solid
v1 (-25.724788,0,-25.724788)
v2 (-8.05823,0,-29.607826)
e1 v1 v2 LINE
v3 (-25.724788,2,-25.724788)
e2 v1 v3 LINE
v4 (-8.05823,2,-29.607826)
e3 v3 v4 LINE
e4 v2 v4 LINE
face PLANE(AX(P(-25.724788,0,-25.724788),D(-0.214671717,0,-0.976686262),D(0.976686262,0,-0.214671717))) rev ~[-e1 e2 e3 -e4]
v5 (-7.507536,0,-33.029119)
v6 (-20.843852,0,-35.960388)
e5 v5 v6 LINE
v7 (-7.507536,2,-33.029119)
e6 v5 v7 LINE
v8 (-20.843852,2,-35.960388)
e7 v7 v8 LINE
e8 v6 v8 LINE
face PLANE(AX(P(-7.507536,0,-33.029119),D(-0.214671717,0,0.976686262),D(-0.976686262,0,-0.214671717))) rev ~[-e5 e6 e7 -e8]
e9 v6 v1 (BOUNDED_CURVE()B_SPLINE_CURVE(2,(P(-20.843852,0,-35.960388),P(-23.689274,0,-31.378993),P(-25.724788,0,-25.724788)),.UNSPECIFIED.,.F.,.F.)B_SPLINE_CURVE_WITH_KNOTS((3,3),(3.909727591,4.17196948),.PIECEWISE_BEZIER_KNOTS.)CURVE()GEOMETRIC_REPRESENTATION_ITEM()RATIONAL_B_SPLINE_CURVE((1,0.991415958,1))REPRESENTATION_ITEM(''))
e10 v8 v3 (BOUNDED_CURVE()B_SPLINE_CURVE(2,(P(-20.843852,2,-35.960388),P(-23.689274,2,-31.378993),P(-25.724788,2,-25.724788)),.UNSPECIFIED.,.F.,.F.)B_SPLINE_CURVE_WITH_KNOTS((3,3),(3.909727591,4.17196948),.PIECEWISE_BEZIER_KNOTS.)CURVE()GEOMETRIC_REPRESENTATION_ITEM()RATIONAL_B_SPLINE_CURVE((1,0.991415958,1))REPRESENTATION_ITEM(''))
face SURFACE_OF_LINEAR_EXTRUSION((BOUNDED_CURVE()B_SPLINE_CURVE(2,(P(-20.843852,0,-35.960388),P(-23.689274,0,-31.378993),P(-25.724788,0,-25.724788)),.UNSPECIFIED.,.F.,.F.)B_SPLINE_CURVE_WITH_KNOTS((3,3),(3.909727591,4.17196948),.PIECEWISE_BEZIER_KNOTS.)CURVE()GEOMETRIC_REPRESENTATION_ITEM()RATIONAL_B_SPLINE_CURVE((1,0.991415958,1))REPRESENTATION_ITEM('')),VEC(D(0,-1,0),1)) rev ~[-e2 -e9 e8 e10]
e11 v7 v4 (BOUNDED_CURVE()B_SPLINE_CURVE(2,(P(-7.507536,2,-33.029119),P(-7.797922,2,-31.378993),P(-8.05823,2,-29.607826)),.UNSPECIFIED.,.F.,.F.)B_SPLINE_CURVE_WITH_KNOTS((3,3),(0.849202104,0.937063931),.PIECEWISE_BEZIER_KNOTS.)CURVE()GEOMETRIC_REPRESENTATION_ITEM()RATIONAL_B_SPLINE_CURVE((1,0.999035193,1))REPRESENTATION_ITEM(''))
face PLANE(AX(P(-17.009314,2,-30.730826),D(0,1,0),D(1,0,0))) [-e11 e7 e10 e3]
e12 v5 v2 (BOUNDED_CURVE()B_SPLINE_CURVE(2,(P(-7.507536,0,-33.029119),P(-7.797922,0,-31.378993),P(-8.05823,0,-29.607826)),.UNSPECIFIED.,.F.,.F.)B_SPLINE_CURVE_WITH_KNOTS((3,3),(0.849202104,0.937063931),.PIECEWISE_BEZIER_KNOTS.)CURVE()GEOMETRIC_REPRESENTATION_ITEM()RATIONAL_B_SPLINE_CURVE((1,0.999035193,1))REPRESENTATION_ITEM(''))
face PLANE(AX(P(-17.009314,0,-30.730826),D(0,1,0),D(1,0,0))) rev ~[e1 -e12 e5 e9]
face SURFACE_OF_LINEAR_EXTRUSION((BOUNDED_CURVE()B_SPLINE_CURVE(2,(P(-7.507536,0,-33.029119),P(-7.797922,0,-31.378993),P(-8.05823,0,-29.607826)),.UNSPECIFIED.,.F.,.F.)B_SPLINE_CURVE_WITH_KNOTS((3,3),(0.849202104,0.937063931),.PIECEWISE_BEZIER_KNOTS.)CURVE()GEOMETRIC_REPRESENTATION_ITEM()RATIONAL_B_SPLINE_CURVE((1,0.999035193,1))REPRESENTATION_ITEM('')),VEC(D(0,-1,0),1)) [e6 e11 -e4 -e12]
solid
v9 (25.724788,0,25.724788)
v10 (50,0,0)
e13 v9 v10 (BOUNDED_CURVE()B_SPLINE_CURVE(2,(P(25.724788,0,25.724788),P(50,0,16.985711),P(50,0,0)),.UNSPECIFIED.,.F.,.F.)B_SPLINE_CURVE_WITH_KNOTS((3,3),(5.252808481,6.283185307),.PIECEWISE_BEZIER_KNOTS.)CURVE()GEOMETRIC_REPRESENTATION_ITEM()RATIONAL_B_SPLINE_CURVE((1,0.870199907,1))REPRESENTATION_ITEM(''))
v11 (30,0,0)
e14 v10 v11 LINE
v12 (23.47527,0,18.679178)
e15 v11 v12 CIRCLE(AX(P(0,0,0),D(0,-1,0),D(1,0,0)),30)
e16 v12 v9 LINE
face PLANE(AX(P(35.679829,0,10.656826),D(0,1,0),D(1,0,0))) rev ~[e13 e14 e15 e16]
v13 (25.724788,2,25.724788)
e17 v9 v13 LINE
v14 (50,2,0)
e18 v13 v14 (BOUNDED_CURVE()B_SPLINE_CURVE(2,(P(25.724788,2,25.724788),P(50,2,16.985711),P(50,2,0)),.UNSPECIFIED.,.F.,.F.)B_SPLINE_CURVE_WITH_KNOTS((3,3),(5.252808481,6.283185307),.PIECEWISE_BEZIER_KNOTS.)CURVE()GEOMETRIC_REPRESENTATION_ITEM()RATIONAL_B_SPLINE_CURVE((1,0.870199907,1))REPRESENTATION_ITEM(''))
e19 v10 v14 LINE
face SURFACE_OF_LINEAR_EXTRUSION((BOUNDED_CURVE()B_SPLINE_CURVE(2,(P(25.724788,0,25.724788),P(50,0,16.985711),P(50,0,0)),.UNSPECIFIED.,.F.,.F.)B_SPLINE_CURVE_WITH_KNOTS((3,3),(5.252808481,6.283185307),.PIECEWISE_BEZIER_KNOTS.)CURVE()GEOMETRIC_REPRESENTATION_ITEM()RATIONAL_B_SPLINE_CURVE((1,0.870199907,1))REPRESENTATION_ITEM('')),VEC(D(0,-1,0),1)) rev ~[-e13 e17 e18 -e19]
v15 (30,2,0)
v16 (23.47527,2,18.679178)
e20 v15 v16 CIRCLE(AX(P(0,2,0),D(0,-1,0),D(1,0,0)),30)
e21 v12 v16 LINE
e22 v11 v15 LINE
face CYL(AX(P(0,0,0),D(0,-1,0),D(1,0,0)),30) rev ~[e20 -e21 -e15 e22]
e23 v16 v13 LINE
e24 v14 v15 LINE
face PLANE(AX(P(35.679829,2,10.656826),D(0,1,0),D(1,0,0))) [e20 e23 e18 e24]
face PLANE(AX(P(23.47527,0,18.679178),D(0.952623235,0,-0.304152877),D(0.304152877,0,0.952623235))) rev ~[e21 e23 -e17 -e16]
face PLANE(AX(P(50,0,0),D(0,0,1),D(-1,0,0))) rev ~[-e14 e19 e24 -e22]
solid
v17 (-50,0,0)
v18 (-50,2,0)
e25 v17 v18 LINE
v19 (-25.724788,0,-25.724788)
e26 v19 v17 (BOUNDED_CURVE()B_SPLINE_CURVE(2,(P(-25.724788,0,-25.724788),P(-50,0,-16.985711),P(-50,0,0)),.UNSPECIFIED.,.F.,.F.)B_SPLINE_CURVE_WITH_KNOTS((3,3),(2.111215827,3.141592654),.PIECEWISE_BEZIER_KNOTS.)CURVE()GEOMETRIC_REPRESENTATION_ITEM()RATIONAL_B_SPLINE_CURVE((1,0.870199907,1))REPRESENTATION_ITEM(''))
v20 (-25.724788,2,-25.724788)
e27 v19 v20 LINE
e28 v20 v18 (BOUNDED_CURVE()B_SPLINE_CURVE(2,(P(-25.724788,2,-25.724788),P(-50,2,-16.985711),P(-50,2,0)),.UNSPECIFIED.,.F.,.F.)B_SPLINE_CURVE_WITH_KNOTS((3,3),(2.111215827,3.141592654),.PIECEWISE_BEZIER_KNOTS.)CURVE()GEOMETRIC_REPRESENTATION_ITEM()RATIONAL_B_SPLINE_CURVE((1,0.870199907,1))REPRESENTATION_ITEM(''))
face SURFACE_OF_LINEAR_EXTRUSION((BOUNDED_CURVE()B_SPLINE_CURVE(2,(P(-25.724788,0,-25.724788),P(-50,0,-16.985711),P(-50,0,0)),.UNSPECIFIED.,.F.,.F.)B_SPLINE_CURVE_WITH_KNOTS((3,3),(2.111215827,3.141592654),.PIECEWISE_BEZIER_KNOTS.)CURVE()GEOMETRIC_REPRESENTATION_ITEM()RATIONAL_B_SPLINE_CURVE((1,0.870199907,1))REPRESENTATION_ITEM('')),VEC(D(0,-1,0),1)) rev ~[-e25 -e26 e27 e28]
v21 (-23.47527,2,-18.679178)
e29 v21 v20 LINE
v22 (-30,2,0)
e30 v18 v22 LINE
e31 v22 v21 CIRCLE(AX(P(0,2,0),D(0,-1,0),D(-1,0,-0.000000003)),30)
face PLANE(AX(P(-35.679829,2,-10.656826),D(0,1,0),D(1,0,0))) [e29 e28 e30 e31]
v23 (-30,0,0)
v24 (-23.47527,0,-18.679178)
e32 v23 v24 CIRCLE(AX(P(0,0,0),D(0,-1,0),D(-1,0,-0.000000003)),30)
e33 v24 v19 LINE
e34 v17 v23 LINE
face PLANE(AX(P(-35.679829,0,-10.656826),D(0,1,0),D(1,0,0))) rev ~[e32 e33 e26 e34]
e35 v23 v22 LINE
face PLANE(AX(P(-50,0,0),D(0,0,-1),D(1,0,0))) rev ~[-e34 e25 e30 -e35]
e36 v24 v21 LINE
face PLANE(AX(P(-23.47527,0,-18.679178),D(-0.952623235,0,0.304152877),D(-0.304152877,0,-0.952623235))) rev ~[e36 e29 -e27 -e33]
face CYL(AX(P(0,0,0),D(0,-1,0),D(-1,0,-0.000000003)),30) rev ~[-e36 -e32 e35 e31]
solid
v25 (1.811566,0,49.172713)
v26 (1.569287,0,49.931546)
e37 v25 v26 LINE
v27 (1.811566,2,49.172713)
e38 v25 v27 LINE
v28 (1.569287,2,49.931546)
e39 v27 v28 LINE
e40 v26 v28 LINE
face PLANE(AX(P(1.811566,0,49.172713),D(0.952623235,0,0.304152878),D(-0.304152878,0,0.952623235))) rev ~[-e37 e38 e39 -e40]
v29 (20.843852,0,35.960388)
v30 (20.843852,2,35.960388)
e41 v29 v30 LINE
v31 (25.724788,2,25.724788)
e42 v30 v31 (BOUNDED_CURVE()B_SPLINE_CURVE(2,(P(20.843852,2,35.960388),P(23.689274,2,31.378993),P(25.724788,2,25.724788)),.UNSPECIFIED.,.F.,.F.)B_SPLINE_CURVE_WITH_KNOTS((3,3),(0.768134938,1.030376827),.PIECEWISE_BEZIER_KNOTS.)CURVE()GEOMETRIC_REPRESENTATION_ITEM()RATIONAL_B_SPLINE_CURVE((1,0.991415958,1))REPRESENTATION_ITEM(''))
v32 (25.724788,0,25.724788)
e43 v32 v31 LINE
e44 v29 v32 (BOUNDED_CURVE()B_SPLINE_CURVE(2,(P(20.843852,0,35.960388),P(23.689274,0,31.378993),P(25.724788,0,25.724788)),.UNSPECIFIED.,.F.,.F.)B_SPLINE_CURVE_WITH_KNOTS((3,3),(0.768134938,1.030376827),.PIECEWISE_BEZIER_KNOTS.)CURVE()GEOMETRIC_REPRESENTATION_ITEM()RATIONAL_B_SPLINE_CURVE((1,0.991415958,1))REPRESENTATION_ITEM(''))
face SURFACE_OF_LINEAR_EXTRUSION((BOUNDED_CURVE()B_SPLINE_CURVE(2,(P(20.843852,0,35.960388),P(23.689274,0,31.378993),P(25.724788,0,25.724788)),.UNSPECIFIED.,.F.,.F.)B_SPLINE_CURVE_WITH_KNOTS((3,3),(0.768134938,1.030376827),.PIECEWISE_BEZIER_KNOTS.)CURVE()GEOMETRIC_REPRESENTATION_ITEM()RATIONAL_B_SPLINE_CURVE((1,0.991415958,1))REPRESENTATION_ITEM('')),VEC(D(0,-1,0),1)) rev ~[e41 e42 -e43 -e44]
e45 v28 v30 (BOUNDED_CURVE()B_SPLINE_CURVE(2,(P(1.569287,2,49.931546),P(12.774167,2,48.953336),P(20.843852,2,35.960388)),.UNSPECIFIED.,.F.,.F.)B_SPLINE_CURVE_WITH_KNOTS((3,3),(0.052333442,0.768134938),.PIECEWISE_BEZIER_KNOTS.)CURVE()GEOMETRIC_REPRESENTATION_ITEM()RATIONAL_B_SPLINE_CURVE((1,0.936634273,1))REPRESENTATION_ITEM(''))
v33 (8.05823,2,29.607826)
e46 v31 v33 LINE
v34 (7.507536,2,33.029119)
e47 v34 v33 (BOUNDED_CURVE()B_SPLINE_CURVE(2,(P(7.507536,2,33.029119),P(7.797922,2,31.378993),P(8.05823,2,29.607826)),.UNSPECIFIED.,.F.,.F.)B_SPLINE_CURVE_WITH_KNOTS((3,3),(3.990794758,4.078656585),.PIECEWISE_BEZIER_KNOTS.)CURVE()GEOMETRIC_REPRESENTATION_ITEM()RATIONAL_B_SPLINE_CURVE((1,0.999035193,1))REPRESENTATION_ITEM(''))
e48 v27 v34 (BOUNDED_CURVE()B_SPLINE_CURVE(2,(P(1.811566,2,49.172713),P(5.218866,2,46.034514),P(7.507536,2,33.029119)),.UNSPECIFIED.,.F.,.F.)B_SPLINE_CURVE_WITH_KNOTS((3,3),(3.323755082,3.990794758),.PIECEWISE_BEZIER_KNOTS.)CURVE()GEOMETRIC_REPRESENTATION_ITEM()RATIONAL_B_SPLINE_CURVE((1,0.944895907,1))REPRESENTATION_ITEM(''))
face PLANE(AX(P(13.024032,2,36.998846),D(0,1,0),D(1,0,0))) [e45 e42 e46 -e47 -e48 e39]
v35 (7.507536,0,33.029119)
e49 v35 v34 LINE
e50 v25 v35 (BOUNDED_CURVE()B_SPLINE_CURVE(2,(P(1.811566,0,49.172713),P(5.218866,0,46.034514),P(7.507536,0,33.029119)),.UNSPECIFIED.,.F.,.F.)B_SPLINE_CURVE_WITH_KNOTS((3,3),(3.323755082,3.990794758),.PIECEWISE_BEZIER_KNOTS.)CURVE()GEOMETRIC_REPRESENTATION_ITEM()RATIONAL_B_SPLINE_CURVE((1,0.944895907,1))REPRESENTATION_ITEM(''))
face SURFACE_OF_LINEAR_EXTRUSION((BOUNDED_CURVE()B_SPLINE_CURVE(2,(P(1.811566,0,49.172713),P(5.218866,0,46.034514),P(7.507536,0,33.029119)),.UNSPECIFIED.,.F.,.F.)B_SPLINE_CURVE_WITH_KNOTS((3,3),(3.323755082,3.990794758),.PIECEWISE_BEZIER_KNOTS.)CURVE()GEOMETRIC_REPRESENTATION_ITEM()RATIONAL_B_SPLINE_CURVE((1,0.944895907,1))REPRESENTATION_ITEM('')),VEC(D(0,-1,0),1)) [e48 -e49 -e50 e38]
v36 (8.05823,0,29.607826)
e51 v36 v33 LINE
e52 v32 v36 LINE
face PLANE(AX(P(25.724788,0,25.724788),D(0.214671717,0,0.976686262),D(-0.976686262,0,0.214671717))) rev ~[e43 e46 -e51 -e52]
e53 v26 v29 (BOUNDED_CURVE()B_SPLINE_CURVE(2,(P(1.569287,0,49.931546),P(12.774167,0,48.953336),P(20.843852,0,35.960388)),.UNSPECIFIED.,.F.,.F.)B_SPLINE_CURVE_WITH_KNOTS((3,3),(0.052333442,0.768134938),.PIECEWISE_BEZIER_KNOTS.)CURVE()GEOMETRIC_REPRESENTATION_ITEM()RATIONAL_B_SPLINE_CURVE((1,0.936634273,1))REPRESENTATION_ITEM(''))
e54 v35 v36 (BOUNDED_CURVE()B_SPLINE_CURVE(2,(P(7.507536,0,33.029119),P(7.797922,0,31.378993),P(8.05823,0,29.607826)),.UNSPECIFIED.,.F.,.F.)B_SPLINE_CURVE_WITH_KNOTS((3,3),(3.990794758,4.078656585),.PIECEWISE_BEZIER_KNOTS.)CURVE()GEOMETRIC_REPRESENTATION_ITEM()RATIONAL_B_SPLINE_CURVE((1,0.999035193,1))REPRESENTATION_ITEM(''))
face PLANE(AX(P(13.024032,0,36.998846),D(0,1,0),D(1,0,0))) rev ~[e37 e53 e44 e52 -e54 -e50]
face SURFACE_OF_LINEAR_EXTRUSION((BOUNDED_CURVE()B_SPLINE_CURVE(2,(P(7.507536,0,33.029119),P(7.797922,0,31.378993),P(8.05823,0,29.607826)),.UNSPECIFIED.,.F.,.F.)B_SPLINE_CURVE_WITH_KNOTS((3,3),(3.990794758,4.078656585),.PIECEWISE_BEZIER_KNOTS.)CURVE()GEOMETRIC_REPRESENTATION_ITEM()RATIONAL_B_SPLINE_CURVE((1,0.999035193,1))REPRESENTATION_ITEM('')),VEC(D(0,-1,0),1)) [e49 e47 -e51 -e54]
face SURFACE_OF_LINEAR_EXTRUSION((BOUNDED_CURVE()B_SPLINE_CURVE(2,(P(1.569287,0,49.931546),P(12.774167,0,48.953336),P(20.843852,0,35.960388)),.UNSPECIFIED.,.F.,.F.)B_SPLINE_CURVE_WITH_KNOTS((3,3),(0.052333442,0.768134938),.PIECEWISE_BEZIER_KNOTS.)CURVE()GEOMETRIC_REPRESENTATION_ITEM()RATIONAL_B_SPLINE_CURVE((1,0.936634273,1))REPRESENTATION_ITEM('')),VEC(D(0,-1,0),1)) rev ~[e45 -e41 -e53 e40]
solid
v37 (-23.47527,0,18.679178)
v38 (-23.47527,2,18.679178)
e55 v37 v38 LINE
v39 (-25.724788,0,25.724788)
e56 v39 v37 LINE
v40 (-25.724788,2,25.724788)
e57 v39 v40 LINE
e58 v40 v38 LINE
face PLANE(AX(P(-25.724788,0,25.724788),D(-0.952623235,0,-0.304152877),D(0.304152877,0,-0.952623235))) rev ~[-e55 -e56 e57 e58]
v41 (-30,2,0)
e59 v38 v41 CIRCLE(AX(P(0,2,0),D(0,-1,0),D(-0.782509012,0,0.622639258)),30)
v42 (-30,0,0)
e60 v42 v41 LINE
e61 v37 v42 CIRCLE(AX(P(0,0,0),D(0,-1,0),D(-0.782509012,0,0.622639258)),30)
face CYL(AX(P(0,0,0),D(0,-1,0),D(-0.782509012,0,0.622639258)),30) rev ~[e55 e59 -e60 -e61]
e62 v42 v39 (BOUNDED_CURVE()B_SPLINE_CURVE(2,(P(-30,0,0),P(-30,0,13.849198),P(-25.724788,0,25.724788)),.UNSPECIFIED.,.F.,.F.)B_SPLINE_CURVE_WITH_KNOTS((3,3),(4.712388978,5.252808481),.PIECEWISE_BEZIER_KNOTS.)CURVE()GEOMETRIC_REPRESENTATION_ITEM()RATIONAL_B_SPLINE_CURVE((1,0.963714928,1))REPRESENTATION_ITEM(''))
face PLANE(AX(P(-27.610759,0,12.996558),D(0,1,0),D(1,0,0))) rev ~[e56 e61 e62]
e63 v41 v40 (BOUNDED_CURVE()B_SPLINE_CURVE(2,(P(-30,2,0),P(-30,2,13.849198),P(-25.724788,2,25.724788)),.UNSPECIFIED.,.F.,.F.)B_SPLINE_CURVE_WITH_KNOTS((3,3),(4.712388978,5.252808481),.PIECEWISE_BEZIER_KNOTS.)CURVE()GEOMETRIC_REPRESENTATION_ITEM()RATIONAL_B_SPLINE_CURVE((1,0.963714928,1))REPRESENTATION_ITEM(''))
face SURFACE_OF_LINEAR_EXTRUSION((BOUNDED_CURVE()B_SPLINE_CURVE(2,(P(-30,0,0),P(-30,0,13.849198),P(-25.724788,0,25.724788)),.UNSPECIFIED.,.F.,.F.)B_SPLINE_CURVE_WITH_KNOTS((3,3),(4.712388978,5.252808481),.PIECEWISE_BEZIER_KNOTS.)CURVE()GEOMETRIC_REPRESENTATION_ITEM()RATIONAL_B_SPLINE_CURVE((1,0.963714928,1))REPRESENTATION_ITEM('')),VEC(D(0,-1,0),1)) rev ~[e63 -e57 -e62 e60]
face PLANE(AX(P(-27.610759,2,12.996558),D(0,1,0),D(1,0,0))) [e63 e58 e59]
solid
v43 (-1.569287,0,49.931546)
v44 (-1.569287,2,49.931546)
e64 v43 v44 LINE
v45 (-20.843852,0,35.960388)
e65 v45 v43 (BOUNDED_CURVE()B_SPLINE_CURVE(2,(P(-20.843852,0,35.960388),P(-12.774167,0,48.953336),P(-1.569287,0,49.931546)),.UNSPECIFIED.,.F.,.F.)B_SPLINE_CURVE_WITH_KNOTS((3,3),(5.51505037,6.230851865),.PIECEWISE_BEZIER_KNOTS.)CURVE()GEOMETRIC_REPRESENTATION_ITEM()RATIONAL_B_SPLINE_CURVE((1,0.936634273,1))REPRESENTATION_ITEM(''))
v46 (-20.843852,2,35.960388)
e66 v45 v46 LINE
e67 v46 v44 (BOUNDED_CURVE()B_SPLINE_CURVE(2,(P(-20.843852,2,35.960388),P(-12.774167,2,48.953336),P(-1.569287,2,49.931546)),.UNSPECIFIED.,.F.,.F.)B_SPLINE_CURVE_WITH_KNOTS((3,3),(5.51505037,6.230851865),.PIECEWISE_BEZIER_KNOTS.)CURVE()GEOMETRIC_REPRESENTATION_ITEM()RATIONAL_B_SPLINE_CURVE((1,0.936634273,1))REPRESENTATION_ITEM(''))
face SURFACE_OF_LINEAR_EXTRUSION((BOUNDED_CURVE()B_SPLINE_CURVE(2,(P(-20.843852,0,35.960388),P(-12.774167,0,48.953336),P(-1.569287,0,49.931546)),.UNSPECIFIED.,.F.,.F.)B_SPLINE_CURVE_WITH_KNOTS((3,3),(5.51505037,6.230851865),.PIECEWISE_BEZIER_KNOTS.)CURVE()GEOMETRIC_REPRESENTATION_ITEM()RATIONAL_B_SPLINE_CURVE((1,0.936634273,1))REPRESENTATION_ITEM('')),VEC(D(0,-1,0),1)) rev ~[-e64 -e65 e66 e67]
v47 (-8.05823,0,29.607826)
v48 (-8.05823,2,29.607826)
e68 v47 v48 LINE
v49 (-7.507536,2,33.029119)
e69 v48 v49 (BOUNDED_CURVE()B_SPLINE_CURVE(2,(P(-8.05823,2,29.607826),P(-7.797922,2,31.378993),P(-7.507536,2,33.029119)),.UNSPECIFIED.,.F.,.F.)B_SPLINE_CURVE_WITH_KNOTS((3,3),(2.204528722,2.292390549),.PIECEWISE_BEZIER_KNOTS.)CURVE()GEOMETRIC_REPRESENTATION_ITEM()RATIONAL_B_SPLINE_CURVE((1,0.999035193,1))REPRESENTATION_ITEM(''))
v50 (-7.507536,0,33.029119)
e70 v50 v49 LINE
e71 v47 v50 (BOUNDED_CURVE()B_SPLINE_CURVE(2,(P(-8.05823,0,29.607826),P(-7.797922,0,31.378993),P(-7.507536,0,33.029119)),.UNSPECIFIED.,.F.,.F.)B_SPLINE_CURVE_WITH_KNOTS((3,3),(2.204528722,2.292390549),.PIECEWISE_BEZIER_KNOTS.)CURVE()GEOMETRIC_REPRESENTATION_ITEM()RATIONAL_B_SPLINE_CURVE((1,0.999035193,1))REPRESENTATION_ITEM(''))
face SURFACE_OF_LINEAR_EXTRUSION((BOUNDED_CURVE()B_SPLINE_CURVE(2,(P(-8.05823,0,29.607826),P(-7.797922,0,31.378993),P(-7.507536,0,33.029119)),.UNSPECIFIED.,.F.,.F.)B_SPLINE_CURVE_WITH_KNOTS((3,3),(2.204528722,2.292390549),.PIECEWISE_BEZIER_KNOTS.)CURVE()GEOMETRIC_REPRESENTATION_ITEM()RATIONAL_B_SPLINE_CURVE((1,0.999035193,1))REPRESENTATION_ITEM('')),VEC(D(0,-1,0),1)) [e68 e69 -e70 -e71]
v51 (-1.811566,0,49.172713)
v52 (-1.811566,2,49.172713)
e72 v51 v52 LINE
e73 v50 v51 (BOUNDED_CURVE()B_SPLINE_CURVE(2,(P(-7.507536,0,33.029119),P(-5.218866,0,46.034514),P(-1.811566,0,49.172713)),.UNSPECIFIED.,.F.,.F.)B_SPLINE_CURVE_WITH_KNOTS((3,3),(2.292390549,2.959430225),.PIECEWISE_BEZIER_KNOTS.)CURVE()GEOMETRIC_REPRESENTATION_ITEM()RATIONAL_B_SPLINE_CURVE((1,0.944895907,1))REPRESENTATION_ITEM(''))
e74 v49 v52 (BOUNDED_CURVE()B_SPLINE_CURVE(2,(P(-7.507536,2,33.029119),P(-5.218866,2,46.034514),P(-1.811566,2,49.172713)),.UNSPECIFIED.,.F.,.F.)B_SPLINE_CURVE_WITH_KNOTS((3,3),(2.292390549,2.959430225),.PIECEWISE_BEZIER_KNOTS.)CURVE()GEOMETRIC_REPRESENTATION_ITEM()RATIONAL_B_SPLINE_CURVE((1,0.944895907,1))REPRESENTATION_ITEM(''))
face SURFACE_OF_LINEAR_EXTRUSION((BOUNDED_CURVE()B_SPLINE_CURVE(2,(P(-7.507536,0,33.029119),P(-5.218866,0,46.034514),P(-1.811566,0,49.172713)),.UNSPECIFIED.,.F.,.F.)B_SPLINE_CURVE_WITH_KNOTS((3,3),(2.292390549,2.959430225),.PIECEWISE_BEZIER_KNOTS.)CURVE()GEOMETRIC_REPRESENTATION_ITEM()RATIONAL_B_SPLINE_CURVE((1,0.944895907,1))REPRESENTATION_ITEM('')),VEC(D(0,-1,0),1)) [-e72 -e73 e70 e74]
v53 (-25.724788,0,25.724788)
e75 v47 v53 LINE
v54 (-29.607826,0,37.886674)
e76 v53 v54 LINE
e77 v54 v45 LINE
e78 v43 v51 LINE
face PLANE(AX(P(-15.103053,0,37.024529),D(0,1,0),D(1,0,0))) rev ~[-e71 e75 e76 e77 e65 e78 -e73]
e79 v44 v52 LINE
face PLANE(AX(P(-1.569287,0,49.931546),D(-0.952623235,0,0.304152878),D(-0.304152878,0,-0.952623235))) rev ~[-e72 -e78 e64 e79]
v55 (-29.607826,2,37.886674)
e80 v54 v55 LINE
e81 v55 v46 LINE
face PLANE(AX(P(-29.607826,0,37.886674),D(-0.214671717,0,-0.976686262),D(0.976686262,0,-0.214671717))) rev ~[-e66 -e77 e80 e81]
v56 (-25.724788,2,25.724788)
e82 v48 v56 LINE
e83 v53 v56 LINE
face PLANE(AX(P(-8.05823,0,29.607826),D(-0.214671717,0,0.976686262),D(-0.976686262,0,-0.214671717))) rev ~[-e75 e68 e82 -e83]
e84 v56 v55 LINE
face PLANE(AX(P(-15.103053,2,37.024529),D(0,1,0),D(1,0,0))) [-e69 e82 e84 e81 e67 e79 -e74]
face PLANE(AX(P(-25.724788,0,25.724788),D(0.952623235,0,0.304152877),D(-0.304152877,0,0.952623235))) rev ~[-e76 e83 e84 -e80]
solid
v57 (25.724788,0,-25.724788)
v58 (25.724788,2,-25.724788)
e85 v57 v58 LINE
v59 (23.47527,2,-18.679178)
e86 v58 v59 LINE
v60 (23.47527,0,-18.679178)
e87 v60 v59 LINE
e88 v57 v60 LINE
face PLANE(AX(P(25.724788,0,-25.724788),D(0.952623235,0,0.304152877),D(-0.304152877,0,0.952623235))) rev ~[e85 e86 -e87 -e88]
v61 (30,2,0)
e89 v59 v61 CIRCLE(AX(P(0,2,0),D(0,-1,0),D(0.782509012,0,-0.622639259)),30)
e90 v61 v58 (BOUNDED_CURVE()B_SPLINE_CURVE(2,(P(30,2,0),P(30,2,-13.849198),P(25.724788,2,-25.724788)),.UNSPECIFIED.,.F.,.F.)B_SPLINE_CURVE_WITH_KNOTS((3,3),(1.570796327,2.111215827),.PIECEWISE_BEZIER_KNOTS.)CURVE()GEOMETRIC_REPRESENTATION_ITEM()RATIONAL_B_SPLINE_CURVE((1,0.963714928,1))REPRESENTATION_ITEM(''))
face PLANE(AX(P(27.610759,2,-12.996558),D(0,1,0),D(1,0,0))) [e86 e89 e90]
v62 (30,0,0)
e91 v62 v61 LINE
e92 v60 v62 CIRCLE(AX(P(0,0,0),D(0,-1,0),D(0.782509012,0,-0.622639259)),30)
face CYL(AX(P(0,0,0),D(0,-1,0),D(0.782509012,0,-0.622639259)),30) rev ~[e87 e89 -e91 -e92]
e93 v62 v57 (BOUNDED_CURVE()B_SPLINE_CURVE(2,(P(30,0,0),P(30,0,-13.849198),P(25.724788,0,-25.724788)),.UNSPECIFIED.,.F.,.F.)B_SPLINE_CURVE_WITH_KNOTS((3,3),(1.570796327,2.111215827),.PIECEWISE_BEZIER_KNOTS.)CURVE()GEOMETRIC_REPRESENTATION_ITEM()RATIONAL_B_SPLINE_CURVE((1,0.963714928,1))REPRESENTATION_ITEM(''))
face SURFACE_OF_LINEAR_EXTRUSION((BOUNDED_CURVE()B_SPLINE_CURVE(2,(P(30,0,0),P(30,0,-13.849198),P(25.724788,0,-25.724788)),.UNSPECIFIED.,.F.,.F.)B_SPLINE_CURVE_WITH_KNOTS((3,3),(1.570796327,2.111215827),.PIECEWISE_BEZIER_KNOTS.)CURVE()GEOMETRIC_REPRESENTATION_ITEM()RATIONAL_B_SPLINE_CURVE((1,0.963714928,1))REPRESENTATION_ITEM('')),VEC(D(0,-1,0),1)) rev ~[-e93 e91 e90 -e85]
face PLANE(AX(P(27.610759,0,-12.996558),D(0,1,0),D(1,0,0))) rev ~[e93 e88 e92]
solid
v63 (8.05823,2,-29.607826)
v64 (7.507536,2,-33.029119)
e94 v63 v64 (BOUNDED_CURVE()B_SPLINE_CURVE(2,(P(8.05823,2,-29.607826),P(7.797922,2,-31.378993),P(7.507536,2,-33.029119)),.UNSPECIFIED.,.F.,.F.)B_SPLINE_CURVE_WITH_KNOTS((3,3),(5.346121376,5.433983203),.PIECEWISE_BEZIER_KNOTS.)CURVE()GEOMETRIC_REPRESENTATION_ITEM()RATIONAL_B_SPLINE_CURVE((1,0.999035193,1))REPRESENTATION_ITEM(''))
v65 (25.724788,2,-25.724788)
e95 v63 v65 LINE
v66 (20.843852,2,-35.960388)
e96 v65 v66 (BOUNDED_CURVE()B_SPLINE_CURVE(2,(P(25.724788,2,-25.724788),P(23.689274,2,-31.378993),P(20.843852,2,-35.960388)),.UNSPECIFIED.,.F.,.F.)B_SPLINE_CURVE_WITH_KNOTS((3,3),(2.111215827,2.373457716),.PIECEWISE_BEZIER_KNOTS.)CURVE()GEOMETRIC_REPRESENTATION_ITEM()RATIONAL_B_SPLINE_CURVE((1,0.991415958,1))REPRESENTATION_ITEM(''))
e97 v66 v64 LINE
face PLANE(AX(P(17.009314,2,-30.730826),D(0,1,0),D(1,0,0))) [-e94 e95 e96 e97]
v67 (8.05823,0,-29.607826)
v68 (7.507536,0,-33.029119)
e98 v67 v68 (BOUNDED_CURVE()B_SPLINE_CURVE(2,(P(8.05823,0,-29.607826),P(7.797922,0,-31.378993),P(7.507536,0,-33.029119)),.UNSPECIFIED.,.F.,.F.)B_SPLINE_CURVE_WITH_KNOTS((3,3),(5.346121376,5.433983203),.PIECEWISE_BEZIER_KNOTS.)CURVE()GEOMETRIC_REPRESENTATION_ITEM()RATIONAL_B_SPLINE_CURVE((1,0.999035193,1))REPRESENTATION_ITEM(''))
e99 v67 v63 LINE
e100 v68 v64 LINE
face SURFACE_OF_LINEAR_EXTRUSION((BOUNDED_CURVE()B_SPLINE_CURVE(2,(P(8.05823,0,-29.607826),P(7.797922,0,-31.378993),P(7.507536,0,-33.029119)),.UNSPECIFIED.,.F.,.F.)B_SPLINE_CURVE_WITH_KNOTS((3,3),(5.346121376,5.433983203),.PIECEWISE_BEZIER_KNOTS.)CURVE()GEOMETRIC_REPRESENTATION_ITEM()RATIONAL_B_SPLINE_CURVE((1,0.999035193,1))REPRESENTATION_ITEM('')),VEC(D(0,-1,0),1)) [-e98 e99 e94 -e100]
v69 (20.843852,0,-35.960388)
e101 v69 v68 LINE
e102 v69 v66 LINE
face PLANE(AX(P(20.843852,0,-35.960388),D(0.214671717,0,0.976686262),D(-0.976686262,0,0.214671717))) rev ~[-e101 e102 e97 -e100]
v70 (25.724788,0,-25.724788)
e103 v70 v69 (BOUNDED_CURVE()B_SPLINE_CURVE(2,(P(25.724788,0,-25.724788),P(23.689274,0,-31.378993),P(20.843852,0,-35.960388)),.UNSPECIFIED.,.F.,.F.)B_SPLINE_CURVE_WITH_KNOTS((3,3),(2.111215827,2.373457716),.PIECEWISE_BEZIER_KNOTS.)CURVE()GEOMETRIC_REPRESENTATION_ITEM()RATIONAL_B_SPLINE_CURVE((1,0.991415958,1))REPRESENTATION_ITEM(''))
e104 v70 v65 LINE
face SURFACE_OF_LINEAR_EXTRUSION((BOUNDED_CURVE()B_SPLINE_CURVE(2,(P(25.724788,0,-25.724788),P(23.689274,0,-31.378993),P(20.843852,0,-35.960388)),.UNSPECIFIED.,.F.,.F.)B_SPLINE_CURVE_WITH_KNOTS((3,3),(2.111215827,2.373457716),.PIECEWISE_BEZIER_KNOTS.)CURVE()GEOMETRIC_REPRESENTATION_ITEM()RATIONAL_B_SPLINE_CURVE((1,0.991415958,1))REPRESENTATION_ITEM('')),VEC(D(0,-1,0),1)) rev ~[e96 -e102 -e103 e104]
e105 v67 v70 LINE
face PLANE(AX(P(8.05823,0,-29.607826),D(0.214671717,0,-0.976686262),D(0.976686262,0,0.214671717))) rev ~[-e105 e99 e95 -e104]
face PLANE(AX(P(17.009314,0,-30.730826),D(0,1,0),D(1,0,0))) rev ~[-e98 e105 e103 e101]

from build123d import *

# Parameters (mm, degrees)
DODANIE_WYCI_GNI_CIE1_DEPTH   = 2
DODANIE_WYCI_GNI_CIE1_2_DEPTH = 2
DODANIE_WYCI_GNI_CIE1_3_DEPTH = 2
DODANIE_WYCI_GNI_CIE1_4_DEPTH = 2
DODANIE_WYCI_GNI_CIE1_5_DEPTH = 2
DODANIE_WYCI_GNI_CIE1_6_DEPTH = 2
DODANIE_WYCI_GNI_CIE1_7_DEPTH = 2
DODANIE_WYCI_GNI_CIE1_8_DEPTH = 2


with BuildPart() as part:
    # Szkic1 → Dodanie-wyciągnięcie1 (new body)
    with BuildSketch(Plane(origin=(0, 0, 0), x_dir=(1, 0, 0), z_dir=(0, 1, 0))):
        with BuildLine():
            Line((-25.724787771, 25.724787771), (-8.05822964, 29.607826273))
            add(Edge.make_bspline(
                [(-7.507535684, 33.029118956), (-7.79792239, 31.378992774), (-8.05822964, 29.607826273)],
                knots=[0.849202104, 0.849202104, 0.849202104, 0.937063931, 0.937063931, 0.937063931], degree=2, weights=[1, 0.999035193, 1]))
            Line((-7.507535684, 33.029118956), (-20.843852414, 35.960387795))
            add(Edge.make_bspline(
                [(-20.843852414, 35.960387795), (-23.68927397, 31.378992774), (-25.724787771, 25.724787771)],
                knots=[3.909727591, 3.909727591, 3.909727591, 4.17196948, 4.17196948, 4.17196948], degree=2, weights=[1, 0.991415958, 1]))
        make_face()
    extrude(amount=DODANIE_WYCI_GNI_CIE1_DEPTH)


with BuildPart() as body_2:
    # Szkic1 → Dodanie-wyci_gni_cie1 2 (new body)
    with BuildSketch(Plane(origin=(0, 0, 0), x_dir=(1, 0, 0), z_dir=(0, 1, 0))):
        with BuildLine():
            Line((-23.475270357, 18.679177757), (-25.724787771, 25.724787771))
            add(Edge.make_bspline(
                [(-25.724787771, 25.724787771), (-50, 16.985711369), (-50, 0)],
                knots=[2.111215827, 2.111215827, 2.111215827, 3.141592654, 3.141592654, 3.141592654], degree=2, weights=[1, 0.870199907, 1]))
            Line((-50, 0), (-30, 0))
            ThreePointArc((-30, 9.5e-08), (-28.321882961, 9.892974554), (-23.475270357, 18.679177757))
        make_face()
    extrude(amount=DODANIE_WYCI_GNI_CIE1_2_DEPTH)


with BuildPart() as body_3:
    # Szkic1 → Dodanie-wyci_gni_cie1 3 (new body)
    with BuildSketch(Plane(origin=(0, 0, 0), x_dir=(1, 0, 0), z_dir=(0, 1, 0))):
        with BuildLine():
            ThreePointArc((-23.475270357, -18.679177757), (-28.321882992, -9.892974465), (-30, 9.5e-08))
            add(Edge.make_bspline(
                [(-30, 9.5e-08), (-30.000000016, -13.849198204), (-25.724787771, -25.724787771)],
                knots=[4.712388978, 4.712388978, 4.712388978, 5.252808481, 5.252808481, 5.252808481], degree=2, weights=[1, 0.963714928, 1]))
            Line((-25.724787771, -25.724787771), (-23.475270357, -18.679177757))
        make_face()
    extrude(amount=DODANIE_WYCI_GNI_CIE1_3_DEPTH)


with BuildPart() as body_4:
    # Szkic1 → Dodanie-wyci_gni_cie1 4 (new body)
    with BuildSketch(Plane(origin=(0, 0, 0), x_dir=(1, 0, 0), z_dir=(0, 1, 0))):
        with BuildLine():
            Line((-29.607826273, -37.88667404), (-20.843852414, -35.960387795))
            add(Edge.make_bspline(
                [(-20.843852414, -35.960387795), (-12.774167321, -48.953336072), (-1.56928672, -49.931545896)],
                knots=[5.51505037, 5.51505037, 5.51505037, 6.230851865, 6.230851865, 6.230851865], degree=2, weights=[1, 0.936634273, 1]))
            Line((-1.56928672, -49.931545896), (-1.811566447, -49.17271271))
            add(Edge.make_bspline(
                [(-7.507535684, -33.029118956), (-5.218865934, -46.034514162), (-1.811566447, -49.17271271)],
                knots=[2.292390549, 2.292390549, 2.292390549, 2.959430225, 2.959430225, 2.959430225], degree=2, weights=[1, 0.944895907, 1]))
            add(Edge.make_bspline(
                [(-8.05822964, -29.607826273), (-7.79792239, -31.378992774), (-7.507535684, -33.029118956)],
                knots=[2.204528722, 2.204528722, 2.204528722, 2.292390549, 2.292390549, 2.292390549], degree=2, weights=[1, 0.999035193, 1]))
            Line((-8.05822964, -29.607826273), (-25.724787771, -25.724787771))
            Line((-25.724787771, -25.724787771), (-29.607826273, -37.88667404))
        make_face()
    extrude(amount=DODANIE_WYCI_GNI_CIE1_4_DEPTH)


with BuildPart() as body_5:
    # Szkic1 → Dodanie-wyci_gni_cie1 5 (new body)
    with BuildSketch(Plane(origin=(0, 0, 0), x_dir=(1, 0, 0), z_dir=(0, 1, 0))):
        with BuildLine():
            Line((8.05822964, 29.607826273), (25.724787771, 25.724787771))
            add(Edge.make_bspline(
                [(25.724787771, 25.724787771), (23.68927397, 31.378992774), (20.843852414, 35.960387795)],
                knots=[2.111215827, 2.111215827, 2.111215827, 2.373457716, 2.373457716, 2.373457716], degree=2, weights=[1, 0.991415958, 1]))
            Line((20.843852414, 35.960387795), (7.507535684, 33.029118956))
            add(Edge.make_bspline(
                [(8.05822964, 29.607826273), (7.79792239, 31.378992774), (7.507535684, 33.029118956)],
                knots=[5.346121376, 5.346121376, 5.346121376, 5.433983203, 5.433983203, 5.433983203], degree=2, weights=[1, 0.999035193, 1]))
        make_face()
    extrude(amount=DODANIE_WYCI_GNI_CIE1_5_DEPTH)


with BuildPart() as body_6:
    # Szkic1 → Dodanie-wyci_gni_cie1 6 (new body)
    with BuildSketch(Plane(origin=(0, 0, 0), x_dir=(1, 0, 0), z_dir=(0, 1, 0))):
        with BuildLine():
            add(Edge.make_bspline(
                [(30, 0), (30, 13.849198247), (25.724787771, 25.724787771)],
                knots=[1.570796327, 1.570796327, 1.570796327, 2.111215827, 2.111215827, 2.111215827], degree=2, weights=[1, 0.963714928, 1]))
            Line((25.724787771, 25.724787771), (23.475270357, 18.679177757))
            ThreePointArc((23.475270357, 18.679177757), (28.321882977, 9.89297451), (30, 0))
        make_face()
    extrude(amount=DODANIE_WYCI_GNI_CIE1_6_DEPTH)


with BuildPart() as body_7:
    # Szkic1 → Dodanie-wyci_gni_cie1 7 (new body)
    with BuildSketch(Plane(origin=(0, 0, 0), x_dir=(1, 0, 0), z_dir=(0, 1, 0))):
        with BuildLine():
            add(Edge.make_bspline(
                [(20.843852414, -35.960387795), (23.68927397, -31.378992774), (25.724787771, -25.724787771)],
                knots=[0.768134938, 0.768134938, 0.768134938, 1.030376827, 1.030376827, 1.030376827], degree=2, weights=[1, 0.991415958, 1]))
            Line((25.724787771, -25.724787771), (8.05822964, -29.607826273))
            add(Edge.make_bspline(
                [(7.507535684, -33.029118956), (7.79792239, -31.378992774), (8.05822964, -29.607826273)],
                knots=[3.990794758, 3.990794758, 3.990794758, 4.078656585, 4.078656585, 4.078656585], degree=2, weights=[1, 0.999035193, 1]))
            add(Edge.make_bspline(
                [(1.811566447, -49.17271271), (5.218865934, -46.034514162), (7.507535684, -33.029118956)],
                knots=[3.323755082, 3.323755082, 3.323755082, 3.990794758, 3.990794758, 3.990794758], degree=2, weights=[1, 0.944895907, 1]))
            Line((1.811566447, -49.17271271), (1.56928672, -49.931545896))
            add(Edge.make_bspline(
                [(1.56928672, -49.931545896), (12.774167321, -48.953336072), (20.843852414, -35.960387795)],
                knots=[0.052333442, 0.052333442, 0.052333442, 0.768134938, 0.768134938, 0.768134938], degree=2, weights=[1, 0.936634273, 1]))
        make_face()
    extrude(amount=DODANIE_WYCI_GNI_CIE1_7_DEPTH)


with BuildPart() as body_8:
    # Szkic1 → Dodanie-wyci_gni_cie1 8 (new body)
    with BuildSketch(Plane(origin=(0, 0, 0), x_dir=(1, 0, 0), z_dir=(0, 1, 0))):
        with BuildLine():
            Line((23.475270357, -18.679177757), (25.724787771, -25.724787771))
            add(Edge.make_bspline(
                [(25.724787771, -25.724787771), (50, -16.985711369), (50, 0)],
                knots=[5.252808481, 5.252808481, 5.252808481, 6.283185307, 6.283185307, 6.283185307], degree=2, weights=[1, 0.870199907, 1]))
            Line((50, 0), (30, 0))
            ThreePointArc((30, 0), (28.321882977, -9.89297451), (23.475270357, -18.679177757))
        make_face()
    extrude(amount=DODANIE_WYCI_GNI_CIE1_8_DEPTH)


solid = Compound([part.part, body_2.part, body_3.part, body_4.part, body_5.part, body_6.part, body_7.part, body_8.part])
